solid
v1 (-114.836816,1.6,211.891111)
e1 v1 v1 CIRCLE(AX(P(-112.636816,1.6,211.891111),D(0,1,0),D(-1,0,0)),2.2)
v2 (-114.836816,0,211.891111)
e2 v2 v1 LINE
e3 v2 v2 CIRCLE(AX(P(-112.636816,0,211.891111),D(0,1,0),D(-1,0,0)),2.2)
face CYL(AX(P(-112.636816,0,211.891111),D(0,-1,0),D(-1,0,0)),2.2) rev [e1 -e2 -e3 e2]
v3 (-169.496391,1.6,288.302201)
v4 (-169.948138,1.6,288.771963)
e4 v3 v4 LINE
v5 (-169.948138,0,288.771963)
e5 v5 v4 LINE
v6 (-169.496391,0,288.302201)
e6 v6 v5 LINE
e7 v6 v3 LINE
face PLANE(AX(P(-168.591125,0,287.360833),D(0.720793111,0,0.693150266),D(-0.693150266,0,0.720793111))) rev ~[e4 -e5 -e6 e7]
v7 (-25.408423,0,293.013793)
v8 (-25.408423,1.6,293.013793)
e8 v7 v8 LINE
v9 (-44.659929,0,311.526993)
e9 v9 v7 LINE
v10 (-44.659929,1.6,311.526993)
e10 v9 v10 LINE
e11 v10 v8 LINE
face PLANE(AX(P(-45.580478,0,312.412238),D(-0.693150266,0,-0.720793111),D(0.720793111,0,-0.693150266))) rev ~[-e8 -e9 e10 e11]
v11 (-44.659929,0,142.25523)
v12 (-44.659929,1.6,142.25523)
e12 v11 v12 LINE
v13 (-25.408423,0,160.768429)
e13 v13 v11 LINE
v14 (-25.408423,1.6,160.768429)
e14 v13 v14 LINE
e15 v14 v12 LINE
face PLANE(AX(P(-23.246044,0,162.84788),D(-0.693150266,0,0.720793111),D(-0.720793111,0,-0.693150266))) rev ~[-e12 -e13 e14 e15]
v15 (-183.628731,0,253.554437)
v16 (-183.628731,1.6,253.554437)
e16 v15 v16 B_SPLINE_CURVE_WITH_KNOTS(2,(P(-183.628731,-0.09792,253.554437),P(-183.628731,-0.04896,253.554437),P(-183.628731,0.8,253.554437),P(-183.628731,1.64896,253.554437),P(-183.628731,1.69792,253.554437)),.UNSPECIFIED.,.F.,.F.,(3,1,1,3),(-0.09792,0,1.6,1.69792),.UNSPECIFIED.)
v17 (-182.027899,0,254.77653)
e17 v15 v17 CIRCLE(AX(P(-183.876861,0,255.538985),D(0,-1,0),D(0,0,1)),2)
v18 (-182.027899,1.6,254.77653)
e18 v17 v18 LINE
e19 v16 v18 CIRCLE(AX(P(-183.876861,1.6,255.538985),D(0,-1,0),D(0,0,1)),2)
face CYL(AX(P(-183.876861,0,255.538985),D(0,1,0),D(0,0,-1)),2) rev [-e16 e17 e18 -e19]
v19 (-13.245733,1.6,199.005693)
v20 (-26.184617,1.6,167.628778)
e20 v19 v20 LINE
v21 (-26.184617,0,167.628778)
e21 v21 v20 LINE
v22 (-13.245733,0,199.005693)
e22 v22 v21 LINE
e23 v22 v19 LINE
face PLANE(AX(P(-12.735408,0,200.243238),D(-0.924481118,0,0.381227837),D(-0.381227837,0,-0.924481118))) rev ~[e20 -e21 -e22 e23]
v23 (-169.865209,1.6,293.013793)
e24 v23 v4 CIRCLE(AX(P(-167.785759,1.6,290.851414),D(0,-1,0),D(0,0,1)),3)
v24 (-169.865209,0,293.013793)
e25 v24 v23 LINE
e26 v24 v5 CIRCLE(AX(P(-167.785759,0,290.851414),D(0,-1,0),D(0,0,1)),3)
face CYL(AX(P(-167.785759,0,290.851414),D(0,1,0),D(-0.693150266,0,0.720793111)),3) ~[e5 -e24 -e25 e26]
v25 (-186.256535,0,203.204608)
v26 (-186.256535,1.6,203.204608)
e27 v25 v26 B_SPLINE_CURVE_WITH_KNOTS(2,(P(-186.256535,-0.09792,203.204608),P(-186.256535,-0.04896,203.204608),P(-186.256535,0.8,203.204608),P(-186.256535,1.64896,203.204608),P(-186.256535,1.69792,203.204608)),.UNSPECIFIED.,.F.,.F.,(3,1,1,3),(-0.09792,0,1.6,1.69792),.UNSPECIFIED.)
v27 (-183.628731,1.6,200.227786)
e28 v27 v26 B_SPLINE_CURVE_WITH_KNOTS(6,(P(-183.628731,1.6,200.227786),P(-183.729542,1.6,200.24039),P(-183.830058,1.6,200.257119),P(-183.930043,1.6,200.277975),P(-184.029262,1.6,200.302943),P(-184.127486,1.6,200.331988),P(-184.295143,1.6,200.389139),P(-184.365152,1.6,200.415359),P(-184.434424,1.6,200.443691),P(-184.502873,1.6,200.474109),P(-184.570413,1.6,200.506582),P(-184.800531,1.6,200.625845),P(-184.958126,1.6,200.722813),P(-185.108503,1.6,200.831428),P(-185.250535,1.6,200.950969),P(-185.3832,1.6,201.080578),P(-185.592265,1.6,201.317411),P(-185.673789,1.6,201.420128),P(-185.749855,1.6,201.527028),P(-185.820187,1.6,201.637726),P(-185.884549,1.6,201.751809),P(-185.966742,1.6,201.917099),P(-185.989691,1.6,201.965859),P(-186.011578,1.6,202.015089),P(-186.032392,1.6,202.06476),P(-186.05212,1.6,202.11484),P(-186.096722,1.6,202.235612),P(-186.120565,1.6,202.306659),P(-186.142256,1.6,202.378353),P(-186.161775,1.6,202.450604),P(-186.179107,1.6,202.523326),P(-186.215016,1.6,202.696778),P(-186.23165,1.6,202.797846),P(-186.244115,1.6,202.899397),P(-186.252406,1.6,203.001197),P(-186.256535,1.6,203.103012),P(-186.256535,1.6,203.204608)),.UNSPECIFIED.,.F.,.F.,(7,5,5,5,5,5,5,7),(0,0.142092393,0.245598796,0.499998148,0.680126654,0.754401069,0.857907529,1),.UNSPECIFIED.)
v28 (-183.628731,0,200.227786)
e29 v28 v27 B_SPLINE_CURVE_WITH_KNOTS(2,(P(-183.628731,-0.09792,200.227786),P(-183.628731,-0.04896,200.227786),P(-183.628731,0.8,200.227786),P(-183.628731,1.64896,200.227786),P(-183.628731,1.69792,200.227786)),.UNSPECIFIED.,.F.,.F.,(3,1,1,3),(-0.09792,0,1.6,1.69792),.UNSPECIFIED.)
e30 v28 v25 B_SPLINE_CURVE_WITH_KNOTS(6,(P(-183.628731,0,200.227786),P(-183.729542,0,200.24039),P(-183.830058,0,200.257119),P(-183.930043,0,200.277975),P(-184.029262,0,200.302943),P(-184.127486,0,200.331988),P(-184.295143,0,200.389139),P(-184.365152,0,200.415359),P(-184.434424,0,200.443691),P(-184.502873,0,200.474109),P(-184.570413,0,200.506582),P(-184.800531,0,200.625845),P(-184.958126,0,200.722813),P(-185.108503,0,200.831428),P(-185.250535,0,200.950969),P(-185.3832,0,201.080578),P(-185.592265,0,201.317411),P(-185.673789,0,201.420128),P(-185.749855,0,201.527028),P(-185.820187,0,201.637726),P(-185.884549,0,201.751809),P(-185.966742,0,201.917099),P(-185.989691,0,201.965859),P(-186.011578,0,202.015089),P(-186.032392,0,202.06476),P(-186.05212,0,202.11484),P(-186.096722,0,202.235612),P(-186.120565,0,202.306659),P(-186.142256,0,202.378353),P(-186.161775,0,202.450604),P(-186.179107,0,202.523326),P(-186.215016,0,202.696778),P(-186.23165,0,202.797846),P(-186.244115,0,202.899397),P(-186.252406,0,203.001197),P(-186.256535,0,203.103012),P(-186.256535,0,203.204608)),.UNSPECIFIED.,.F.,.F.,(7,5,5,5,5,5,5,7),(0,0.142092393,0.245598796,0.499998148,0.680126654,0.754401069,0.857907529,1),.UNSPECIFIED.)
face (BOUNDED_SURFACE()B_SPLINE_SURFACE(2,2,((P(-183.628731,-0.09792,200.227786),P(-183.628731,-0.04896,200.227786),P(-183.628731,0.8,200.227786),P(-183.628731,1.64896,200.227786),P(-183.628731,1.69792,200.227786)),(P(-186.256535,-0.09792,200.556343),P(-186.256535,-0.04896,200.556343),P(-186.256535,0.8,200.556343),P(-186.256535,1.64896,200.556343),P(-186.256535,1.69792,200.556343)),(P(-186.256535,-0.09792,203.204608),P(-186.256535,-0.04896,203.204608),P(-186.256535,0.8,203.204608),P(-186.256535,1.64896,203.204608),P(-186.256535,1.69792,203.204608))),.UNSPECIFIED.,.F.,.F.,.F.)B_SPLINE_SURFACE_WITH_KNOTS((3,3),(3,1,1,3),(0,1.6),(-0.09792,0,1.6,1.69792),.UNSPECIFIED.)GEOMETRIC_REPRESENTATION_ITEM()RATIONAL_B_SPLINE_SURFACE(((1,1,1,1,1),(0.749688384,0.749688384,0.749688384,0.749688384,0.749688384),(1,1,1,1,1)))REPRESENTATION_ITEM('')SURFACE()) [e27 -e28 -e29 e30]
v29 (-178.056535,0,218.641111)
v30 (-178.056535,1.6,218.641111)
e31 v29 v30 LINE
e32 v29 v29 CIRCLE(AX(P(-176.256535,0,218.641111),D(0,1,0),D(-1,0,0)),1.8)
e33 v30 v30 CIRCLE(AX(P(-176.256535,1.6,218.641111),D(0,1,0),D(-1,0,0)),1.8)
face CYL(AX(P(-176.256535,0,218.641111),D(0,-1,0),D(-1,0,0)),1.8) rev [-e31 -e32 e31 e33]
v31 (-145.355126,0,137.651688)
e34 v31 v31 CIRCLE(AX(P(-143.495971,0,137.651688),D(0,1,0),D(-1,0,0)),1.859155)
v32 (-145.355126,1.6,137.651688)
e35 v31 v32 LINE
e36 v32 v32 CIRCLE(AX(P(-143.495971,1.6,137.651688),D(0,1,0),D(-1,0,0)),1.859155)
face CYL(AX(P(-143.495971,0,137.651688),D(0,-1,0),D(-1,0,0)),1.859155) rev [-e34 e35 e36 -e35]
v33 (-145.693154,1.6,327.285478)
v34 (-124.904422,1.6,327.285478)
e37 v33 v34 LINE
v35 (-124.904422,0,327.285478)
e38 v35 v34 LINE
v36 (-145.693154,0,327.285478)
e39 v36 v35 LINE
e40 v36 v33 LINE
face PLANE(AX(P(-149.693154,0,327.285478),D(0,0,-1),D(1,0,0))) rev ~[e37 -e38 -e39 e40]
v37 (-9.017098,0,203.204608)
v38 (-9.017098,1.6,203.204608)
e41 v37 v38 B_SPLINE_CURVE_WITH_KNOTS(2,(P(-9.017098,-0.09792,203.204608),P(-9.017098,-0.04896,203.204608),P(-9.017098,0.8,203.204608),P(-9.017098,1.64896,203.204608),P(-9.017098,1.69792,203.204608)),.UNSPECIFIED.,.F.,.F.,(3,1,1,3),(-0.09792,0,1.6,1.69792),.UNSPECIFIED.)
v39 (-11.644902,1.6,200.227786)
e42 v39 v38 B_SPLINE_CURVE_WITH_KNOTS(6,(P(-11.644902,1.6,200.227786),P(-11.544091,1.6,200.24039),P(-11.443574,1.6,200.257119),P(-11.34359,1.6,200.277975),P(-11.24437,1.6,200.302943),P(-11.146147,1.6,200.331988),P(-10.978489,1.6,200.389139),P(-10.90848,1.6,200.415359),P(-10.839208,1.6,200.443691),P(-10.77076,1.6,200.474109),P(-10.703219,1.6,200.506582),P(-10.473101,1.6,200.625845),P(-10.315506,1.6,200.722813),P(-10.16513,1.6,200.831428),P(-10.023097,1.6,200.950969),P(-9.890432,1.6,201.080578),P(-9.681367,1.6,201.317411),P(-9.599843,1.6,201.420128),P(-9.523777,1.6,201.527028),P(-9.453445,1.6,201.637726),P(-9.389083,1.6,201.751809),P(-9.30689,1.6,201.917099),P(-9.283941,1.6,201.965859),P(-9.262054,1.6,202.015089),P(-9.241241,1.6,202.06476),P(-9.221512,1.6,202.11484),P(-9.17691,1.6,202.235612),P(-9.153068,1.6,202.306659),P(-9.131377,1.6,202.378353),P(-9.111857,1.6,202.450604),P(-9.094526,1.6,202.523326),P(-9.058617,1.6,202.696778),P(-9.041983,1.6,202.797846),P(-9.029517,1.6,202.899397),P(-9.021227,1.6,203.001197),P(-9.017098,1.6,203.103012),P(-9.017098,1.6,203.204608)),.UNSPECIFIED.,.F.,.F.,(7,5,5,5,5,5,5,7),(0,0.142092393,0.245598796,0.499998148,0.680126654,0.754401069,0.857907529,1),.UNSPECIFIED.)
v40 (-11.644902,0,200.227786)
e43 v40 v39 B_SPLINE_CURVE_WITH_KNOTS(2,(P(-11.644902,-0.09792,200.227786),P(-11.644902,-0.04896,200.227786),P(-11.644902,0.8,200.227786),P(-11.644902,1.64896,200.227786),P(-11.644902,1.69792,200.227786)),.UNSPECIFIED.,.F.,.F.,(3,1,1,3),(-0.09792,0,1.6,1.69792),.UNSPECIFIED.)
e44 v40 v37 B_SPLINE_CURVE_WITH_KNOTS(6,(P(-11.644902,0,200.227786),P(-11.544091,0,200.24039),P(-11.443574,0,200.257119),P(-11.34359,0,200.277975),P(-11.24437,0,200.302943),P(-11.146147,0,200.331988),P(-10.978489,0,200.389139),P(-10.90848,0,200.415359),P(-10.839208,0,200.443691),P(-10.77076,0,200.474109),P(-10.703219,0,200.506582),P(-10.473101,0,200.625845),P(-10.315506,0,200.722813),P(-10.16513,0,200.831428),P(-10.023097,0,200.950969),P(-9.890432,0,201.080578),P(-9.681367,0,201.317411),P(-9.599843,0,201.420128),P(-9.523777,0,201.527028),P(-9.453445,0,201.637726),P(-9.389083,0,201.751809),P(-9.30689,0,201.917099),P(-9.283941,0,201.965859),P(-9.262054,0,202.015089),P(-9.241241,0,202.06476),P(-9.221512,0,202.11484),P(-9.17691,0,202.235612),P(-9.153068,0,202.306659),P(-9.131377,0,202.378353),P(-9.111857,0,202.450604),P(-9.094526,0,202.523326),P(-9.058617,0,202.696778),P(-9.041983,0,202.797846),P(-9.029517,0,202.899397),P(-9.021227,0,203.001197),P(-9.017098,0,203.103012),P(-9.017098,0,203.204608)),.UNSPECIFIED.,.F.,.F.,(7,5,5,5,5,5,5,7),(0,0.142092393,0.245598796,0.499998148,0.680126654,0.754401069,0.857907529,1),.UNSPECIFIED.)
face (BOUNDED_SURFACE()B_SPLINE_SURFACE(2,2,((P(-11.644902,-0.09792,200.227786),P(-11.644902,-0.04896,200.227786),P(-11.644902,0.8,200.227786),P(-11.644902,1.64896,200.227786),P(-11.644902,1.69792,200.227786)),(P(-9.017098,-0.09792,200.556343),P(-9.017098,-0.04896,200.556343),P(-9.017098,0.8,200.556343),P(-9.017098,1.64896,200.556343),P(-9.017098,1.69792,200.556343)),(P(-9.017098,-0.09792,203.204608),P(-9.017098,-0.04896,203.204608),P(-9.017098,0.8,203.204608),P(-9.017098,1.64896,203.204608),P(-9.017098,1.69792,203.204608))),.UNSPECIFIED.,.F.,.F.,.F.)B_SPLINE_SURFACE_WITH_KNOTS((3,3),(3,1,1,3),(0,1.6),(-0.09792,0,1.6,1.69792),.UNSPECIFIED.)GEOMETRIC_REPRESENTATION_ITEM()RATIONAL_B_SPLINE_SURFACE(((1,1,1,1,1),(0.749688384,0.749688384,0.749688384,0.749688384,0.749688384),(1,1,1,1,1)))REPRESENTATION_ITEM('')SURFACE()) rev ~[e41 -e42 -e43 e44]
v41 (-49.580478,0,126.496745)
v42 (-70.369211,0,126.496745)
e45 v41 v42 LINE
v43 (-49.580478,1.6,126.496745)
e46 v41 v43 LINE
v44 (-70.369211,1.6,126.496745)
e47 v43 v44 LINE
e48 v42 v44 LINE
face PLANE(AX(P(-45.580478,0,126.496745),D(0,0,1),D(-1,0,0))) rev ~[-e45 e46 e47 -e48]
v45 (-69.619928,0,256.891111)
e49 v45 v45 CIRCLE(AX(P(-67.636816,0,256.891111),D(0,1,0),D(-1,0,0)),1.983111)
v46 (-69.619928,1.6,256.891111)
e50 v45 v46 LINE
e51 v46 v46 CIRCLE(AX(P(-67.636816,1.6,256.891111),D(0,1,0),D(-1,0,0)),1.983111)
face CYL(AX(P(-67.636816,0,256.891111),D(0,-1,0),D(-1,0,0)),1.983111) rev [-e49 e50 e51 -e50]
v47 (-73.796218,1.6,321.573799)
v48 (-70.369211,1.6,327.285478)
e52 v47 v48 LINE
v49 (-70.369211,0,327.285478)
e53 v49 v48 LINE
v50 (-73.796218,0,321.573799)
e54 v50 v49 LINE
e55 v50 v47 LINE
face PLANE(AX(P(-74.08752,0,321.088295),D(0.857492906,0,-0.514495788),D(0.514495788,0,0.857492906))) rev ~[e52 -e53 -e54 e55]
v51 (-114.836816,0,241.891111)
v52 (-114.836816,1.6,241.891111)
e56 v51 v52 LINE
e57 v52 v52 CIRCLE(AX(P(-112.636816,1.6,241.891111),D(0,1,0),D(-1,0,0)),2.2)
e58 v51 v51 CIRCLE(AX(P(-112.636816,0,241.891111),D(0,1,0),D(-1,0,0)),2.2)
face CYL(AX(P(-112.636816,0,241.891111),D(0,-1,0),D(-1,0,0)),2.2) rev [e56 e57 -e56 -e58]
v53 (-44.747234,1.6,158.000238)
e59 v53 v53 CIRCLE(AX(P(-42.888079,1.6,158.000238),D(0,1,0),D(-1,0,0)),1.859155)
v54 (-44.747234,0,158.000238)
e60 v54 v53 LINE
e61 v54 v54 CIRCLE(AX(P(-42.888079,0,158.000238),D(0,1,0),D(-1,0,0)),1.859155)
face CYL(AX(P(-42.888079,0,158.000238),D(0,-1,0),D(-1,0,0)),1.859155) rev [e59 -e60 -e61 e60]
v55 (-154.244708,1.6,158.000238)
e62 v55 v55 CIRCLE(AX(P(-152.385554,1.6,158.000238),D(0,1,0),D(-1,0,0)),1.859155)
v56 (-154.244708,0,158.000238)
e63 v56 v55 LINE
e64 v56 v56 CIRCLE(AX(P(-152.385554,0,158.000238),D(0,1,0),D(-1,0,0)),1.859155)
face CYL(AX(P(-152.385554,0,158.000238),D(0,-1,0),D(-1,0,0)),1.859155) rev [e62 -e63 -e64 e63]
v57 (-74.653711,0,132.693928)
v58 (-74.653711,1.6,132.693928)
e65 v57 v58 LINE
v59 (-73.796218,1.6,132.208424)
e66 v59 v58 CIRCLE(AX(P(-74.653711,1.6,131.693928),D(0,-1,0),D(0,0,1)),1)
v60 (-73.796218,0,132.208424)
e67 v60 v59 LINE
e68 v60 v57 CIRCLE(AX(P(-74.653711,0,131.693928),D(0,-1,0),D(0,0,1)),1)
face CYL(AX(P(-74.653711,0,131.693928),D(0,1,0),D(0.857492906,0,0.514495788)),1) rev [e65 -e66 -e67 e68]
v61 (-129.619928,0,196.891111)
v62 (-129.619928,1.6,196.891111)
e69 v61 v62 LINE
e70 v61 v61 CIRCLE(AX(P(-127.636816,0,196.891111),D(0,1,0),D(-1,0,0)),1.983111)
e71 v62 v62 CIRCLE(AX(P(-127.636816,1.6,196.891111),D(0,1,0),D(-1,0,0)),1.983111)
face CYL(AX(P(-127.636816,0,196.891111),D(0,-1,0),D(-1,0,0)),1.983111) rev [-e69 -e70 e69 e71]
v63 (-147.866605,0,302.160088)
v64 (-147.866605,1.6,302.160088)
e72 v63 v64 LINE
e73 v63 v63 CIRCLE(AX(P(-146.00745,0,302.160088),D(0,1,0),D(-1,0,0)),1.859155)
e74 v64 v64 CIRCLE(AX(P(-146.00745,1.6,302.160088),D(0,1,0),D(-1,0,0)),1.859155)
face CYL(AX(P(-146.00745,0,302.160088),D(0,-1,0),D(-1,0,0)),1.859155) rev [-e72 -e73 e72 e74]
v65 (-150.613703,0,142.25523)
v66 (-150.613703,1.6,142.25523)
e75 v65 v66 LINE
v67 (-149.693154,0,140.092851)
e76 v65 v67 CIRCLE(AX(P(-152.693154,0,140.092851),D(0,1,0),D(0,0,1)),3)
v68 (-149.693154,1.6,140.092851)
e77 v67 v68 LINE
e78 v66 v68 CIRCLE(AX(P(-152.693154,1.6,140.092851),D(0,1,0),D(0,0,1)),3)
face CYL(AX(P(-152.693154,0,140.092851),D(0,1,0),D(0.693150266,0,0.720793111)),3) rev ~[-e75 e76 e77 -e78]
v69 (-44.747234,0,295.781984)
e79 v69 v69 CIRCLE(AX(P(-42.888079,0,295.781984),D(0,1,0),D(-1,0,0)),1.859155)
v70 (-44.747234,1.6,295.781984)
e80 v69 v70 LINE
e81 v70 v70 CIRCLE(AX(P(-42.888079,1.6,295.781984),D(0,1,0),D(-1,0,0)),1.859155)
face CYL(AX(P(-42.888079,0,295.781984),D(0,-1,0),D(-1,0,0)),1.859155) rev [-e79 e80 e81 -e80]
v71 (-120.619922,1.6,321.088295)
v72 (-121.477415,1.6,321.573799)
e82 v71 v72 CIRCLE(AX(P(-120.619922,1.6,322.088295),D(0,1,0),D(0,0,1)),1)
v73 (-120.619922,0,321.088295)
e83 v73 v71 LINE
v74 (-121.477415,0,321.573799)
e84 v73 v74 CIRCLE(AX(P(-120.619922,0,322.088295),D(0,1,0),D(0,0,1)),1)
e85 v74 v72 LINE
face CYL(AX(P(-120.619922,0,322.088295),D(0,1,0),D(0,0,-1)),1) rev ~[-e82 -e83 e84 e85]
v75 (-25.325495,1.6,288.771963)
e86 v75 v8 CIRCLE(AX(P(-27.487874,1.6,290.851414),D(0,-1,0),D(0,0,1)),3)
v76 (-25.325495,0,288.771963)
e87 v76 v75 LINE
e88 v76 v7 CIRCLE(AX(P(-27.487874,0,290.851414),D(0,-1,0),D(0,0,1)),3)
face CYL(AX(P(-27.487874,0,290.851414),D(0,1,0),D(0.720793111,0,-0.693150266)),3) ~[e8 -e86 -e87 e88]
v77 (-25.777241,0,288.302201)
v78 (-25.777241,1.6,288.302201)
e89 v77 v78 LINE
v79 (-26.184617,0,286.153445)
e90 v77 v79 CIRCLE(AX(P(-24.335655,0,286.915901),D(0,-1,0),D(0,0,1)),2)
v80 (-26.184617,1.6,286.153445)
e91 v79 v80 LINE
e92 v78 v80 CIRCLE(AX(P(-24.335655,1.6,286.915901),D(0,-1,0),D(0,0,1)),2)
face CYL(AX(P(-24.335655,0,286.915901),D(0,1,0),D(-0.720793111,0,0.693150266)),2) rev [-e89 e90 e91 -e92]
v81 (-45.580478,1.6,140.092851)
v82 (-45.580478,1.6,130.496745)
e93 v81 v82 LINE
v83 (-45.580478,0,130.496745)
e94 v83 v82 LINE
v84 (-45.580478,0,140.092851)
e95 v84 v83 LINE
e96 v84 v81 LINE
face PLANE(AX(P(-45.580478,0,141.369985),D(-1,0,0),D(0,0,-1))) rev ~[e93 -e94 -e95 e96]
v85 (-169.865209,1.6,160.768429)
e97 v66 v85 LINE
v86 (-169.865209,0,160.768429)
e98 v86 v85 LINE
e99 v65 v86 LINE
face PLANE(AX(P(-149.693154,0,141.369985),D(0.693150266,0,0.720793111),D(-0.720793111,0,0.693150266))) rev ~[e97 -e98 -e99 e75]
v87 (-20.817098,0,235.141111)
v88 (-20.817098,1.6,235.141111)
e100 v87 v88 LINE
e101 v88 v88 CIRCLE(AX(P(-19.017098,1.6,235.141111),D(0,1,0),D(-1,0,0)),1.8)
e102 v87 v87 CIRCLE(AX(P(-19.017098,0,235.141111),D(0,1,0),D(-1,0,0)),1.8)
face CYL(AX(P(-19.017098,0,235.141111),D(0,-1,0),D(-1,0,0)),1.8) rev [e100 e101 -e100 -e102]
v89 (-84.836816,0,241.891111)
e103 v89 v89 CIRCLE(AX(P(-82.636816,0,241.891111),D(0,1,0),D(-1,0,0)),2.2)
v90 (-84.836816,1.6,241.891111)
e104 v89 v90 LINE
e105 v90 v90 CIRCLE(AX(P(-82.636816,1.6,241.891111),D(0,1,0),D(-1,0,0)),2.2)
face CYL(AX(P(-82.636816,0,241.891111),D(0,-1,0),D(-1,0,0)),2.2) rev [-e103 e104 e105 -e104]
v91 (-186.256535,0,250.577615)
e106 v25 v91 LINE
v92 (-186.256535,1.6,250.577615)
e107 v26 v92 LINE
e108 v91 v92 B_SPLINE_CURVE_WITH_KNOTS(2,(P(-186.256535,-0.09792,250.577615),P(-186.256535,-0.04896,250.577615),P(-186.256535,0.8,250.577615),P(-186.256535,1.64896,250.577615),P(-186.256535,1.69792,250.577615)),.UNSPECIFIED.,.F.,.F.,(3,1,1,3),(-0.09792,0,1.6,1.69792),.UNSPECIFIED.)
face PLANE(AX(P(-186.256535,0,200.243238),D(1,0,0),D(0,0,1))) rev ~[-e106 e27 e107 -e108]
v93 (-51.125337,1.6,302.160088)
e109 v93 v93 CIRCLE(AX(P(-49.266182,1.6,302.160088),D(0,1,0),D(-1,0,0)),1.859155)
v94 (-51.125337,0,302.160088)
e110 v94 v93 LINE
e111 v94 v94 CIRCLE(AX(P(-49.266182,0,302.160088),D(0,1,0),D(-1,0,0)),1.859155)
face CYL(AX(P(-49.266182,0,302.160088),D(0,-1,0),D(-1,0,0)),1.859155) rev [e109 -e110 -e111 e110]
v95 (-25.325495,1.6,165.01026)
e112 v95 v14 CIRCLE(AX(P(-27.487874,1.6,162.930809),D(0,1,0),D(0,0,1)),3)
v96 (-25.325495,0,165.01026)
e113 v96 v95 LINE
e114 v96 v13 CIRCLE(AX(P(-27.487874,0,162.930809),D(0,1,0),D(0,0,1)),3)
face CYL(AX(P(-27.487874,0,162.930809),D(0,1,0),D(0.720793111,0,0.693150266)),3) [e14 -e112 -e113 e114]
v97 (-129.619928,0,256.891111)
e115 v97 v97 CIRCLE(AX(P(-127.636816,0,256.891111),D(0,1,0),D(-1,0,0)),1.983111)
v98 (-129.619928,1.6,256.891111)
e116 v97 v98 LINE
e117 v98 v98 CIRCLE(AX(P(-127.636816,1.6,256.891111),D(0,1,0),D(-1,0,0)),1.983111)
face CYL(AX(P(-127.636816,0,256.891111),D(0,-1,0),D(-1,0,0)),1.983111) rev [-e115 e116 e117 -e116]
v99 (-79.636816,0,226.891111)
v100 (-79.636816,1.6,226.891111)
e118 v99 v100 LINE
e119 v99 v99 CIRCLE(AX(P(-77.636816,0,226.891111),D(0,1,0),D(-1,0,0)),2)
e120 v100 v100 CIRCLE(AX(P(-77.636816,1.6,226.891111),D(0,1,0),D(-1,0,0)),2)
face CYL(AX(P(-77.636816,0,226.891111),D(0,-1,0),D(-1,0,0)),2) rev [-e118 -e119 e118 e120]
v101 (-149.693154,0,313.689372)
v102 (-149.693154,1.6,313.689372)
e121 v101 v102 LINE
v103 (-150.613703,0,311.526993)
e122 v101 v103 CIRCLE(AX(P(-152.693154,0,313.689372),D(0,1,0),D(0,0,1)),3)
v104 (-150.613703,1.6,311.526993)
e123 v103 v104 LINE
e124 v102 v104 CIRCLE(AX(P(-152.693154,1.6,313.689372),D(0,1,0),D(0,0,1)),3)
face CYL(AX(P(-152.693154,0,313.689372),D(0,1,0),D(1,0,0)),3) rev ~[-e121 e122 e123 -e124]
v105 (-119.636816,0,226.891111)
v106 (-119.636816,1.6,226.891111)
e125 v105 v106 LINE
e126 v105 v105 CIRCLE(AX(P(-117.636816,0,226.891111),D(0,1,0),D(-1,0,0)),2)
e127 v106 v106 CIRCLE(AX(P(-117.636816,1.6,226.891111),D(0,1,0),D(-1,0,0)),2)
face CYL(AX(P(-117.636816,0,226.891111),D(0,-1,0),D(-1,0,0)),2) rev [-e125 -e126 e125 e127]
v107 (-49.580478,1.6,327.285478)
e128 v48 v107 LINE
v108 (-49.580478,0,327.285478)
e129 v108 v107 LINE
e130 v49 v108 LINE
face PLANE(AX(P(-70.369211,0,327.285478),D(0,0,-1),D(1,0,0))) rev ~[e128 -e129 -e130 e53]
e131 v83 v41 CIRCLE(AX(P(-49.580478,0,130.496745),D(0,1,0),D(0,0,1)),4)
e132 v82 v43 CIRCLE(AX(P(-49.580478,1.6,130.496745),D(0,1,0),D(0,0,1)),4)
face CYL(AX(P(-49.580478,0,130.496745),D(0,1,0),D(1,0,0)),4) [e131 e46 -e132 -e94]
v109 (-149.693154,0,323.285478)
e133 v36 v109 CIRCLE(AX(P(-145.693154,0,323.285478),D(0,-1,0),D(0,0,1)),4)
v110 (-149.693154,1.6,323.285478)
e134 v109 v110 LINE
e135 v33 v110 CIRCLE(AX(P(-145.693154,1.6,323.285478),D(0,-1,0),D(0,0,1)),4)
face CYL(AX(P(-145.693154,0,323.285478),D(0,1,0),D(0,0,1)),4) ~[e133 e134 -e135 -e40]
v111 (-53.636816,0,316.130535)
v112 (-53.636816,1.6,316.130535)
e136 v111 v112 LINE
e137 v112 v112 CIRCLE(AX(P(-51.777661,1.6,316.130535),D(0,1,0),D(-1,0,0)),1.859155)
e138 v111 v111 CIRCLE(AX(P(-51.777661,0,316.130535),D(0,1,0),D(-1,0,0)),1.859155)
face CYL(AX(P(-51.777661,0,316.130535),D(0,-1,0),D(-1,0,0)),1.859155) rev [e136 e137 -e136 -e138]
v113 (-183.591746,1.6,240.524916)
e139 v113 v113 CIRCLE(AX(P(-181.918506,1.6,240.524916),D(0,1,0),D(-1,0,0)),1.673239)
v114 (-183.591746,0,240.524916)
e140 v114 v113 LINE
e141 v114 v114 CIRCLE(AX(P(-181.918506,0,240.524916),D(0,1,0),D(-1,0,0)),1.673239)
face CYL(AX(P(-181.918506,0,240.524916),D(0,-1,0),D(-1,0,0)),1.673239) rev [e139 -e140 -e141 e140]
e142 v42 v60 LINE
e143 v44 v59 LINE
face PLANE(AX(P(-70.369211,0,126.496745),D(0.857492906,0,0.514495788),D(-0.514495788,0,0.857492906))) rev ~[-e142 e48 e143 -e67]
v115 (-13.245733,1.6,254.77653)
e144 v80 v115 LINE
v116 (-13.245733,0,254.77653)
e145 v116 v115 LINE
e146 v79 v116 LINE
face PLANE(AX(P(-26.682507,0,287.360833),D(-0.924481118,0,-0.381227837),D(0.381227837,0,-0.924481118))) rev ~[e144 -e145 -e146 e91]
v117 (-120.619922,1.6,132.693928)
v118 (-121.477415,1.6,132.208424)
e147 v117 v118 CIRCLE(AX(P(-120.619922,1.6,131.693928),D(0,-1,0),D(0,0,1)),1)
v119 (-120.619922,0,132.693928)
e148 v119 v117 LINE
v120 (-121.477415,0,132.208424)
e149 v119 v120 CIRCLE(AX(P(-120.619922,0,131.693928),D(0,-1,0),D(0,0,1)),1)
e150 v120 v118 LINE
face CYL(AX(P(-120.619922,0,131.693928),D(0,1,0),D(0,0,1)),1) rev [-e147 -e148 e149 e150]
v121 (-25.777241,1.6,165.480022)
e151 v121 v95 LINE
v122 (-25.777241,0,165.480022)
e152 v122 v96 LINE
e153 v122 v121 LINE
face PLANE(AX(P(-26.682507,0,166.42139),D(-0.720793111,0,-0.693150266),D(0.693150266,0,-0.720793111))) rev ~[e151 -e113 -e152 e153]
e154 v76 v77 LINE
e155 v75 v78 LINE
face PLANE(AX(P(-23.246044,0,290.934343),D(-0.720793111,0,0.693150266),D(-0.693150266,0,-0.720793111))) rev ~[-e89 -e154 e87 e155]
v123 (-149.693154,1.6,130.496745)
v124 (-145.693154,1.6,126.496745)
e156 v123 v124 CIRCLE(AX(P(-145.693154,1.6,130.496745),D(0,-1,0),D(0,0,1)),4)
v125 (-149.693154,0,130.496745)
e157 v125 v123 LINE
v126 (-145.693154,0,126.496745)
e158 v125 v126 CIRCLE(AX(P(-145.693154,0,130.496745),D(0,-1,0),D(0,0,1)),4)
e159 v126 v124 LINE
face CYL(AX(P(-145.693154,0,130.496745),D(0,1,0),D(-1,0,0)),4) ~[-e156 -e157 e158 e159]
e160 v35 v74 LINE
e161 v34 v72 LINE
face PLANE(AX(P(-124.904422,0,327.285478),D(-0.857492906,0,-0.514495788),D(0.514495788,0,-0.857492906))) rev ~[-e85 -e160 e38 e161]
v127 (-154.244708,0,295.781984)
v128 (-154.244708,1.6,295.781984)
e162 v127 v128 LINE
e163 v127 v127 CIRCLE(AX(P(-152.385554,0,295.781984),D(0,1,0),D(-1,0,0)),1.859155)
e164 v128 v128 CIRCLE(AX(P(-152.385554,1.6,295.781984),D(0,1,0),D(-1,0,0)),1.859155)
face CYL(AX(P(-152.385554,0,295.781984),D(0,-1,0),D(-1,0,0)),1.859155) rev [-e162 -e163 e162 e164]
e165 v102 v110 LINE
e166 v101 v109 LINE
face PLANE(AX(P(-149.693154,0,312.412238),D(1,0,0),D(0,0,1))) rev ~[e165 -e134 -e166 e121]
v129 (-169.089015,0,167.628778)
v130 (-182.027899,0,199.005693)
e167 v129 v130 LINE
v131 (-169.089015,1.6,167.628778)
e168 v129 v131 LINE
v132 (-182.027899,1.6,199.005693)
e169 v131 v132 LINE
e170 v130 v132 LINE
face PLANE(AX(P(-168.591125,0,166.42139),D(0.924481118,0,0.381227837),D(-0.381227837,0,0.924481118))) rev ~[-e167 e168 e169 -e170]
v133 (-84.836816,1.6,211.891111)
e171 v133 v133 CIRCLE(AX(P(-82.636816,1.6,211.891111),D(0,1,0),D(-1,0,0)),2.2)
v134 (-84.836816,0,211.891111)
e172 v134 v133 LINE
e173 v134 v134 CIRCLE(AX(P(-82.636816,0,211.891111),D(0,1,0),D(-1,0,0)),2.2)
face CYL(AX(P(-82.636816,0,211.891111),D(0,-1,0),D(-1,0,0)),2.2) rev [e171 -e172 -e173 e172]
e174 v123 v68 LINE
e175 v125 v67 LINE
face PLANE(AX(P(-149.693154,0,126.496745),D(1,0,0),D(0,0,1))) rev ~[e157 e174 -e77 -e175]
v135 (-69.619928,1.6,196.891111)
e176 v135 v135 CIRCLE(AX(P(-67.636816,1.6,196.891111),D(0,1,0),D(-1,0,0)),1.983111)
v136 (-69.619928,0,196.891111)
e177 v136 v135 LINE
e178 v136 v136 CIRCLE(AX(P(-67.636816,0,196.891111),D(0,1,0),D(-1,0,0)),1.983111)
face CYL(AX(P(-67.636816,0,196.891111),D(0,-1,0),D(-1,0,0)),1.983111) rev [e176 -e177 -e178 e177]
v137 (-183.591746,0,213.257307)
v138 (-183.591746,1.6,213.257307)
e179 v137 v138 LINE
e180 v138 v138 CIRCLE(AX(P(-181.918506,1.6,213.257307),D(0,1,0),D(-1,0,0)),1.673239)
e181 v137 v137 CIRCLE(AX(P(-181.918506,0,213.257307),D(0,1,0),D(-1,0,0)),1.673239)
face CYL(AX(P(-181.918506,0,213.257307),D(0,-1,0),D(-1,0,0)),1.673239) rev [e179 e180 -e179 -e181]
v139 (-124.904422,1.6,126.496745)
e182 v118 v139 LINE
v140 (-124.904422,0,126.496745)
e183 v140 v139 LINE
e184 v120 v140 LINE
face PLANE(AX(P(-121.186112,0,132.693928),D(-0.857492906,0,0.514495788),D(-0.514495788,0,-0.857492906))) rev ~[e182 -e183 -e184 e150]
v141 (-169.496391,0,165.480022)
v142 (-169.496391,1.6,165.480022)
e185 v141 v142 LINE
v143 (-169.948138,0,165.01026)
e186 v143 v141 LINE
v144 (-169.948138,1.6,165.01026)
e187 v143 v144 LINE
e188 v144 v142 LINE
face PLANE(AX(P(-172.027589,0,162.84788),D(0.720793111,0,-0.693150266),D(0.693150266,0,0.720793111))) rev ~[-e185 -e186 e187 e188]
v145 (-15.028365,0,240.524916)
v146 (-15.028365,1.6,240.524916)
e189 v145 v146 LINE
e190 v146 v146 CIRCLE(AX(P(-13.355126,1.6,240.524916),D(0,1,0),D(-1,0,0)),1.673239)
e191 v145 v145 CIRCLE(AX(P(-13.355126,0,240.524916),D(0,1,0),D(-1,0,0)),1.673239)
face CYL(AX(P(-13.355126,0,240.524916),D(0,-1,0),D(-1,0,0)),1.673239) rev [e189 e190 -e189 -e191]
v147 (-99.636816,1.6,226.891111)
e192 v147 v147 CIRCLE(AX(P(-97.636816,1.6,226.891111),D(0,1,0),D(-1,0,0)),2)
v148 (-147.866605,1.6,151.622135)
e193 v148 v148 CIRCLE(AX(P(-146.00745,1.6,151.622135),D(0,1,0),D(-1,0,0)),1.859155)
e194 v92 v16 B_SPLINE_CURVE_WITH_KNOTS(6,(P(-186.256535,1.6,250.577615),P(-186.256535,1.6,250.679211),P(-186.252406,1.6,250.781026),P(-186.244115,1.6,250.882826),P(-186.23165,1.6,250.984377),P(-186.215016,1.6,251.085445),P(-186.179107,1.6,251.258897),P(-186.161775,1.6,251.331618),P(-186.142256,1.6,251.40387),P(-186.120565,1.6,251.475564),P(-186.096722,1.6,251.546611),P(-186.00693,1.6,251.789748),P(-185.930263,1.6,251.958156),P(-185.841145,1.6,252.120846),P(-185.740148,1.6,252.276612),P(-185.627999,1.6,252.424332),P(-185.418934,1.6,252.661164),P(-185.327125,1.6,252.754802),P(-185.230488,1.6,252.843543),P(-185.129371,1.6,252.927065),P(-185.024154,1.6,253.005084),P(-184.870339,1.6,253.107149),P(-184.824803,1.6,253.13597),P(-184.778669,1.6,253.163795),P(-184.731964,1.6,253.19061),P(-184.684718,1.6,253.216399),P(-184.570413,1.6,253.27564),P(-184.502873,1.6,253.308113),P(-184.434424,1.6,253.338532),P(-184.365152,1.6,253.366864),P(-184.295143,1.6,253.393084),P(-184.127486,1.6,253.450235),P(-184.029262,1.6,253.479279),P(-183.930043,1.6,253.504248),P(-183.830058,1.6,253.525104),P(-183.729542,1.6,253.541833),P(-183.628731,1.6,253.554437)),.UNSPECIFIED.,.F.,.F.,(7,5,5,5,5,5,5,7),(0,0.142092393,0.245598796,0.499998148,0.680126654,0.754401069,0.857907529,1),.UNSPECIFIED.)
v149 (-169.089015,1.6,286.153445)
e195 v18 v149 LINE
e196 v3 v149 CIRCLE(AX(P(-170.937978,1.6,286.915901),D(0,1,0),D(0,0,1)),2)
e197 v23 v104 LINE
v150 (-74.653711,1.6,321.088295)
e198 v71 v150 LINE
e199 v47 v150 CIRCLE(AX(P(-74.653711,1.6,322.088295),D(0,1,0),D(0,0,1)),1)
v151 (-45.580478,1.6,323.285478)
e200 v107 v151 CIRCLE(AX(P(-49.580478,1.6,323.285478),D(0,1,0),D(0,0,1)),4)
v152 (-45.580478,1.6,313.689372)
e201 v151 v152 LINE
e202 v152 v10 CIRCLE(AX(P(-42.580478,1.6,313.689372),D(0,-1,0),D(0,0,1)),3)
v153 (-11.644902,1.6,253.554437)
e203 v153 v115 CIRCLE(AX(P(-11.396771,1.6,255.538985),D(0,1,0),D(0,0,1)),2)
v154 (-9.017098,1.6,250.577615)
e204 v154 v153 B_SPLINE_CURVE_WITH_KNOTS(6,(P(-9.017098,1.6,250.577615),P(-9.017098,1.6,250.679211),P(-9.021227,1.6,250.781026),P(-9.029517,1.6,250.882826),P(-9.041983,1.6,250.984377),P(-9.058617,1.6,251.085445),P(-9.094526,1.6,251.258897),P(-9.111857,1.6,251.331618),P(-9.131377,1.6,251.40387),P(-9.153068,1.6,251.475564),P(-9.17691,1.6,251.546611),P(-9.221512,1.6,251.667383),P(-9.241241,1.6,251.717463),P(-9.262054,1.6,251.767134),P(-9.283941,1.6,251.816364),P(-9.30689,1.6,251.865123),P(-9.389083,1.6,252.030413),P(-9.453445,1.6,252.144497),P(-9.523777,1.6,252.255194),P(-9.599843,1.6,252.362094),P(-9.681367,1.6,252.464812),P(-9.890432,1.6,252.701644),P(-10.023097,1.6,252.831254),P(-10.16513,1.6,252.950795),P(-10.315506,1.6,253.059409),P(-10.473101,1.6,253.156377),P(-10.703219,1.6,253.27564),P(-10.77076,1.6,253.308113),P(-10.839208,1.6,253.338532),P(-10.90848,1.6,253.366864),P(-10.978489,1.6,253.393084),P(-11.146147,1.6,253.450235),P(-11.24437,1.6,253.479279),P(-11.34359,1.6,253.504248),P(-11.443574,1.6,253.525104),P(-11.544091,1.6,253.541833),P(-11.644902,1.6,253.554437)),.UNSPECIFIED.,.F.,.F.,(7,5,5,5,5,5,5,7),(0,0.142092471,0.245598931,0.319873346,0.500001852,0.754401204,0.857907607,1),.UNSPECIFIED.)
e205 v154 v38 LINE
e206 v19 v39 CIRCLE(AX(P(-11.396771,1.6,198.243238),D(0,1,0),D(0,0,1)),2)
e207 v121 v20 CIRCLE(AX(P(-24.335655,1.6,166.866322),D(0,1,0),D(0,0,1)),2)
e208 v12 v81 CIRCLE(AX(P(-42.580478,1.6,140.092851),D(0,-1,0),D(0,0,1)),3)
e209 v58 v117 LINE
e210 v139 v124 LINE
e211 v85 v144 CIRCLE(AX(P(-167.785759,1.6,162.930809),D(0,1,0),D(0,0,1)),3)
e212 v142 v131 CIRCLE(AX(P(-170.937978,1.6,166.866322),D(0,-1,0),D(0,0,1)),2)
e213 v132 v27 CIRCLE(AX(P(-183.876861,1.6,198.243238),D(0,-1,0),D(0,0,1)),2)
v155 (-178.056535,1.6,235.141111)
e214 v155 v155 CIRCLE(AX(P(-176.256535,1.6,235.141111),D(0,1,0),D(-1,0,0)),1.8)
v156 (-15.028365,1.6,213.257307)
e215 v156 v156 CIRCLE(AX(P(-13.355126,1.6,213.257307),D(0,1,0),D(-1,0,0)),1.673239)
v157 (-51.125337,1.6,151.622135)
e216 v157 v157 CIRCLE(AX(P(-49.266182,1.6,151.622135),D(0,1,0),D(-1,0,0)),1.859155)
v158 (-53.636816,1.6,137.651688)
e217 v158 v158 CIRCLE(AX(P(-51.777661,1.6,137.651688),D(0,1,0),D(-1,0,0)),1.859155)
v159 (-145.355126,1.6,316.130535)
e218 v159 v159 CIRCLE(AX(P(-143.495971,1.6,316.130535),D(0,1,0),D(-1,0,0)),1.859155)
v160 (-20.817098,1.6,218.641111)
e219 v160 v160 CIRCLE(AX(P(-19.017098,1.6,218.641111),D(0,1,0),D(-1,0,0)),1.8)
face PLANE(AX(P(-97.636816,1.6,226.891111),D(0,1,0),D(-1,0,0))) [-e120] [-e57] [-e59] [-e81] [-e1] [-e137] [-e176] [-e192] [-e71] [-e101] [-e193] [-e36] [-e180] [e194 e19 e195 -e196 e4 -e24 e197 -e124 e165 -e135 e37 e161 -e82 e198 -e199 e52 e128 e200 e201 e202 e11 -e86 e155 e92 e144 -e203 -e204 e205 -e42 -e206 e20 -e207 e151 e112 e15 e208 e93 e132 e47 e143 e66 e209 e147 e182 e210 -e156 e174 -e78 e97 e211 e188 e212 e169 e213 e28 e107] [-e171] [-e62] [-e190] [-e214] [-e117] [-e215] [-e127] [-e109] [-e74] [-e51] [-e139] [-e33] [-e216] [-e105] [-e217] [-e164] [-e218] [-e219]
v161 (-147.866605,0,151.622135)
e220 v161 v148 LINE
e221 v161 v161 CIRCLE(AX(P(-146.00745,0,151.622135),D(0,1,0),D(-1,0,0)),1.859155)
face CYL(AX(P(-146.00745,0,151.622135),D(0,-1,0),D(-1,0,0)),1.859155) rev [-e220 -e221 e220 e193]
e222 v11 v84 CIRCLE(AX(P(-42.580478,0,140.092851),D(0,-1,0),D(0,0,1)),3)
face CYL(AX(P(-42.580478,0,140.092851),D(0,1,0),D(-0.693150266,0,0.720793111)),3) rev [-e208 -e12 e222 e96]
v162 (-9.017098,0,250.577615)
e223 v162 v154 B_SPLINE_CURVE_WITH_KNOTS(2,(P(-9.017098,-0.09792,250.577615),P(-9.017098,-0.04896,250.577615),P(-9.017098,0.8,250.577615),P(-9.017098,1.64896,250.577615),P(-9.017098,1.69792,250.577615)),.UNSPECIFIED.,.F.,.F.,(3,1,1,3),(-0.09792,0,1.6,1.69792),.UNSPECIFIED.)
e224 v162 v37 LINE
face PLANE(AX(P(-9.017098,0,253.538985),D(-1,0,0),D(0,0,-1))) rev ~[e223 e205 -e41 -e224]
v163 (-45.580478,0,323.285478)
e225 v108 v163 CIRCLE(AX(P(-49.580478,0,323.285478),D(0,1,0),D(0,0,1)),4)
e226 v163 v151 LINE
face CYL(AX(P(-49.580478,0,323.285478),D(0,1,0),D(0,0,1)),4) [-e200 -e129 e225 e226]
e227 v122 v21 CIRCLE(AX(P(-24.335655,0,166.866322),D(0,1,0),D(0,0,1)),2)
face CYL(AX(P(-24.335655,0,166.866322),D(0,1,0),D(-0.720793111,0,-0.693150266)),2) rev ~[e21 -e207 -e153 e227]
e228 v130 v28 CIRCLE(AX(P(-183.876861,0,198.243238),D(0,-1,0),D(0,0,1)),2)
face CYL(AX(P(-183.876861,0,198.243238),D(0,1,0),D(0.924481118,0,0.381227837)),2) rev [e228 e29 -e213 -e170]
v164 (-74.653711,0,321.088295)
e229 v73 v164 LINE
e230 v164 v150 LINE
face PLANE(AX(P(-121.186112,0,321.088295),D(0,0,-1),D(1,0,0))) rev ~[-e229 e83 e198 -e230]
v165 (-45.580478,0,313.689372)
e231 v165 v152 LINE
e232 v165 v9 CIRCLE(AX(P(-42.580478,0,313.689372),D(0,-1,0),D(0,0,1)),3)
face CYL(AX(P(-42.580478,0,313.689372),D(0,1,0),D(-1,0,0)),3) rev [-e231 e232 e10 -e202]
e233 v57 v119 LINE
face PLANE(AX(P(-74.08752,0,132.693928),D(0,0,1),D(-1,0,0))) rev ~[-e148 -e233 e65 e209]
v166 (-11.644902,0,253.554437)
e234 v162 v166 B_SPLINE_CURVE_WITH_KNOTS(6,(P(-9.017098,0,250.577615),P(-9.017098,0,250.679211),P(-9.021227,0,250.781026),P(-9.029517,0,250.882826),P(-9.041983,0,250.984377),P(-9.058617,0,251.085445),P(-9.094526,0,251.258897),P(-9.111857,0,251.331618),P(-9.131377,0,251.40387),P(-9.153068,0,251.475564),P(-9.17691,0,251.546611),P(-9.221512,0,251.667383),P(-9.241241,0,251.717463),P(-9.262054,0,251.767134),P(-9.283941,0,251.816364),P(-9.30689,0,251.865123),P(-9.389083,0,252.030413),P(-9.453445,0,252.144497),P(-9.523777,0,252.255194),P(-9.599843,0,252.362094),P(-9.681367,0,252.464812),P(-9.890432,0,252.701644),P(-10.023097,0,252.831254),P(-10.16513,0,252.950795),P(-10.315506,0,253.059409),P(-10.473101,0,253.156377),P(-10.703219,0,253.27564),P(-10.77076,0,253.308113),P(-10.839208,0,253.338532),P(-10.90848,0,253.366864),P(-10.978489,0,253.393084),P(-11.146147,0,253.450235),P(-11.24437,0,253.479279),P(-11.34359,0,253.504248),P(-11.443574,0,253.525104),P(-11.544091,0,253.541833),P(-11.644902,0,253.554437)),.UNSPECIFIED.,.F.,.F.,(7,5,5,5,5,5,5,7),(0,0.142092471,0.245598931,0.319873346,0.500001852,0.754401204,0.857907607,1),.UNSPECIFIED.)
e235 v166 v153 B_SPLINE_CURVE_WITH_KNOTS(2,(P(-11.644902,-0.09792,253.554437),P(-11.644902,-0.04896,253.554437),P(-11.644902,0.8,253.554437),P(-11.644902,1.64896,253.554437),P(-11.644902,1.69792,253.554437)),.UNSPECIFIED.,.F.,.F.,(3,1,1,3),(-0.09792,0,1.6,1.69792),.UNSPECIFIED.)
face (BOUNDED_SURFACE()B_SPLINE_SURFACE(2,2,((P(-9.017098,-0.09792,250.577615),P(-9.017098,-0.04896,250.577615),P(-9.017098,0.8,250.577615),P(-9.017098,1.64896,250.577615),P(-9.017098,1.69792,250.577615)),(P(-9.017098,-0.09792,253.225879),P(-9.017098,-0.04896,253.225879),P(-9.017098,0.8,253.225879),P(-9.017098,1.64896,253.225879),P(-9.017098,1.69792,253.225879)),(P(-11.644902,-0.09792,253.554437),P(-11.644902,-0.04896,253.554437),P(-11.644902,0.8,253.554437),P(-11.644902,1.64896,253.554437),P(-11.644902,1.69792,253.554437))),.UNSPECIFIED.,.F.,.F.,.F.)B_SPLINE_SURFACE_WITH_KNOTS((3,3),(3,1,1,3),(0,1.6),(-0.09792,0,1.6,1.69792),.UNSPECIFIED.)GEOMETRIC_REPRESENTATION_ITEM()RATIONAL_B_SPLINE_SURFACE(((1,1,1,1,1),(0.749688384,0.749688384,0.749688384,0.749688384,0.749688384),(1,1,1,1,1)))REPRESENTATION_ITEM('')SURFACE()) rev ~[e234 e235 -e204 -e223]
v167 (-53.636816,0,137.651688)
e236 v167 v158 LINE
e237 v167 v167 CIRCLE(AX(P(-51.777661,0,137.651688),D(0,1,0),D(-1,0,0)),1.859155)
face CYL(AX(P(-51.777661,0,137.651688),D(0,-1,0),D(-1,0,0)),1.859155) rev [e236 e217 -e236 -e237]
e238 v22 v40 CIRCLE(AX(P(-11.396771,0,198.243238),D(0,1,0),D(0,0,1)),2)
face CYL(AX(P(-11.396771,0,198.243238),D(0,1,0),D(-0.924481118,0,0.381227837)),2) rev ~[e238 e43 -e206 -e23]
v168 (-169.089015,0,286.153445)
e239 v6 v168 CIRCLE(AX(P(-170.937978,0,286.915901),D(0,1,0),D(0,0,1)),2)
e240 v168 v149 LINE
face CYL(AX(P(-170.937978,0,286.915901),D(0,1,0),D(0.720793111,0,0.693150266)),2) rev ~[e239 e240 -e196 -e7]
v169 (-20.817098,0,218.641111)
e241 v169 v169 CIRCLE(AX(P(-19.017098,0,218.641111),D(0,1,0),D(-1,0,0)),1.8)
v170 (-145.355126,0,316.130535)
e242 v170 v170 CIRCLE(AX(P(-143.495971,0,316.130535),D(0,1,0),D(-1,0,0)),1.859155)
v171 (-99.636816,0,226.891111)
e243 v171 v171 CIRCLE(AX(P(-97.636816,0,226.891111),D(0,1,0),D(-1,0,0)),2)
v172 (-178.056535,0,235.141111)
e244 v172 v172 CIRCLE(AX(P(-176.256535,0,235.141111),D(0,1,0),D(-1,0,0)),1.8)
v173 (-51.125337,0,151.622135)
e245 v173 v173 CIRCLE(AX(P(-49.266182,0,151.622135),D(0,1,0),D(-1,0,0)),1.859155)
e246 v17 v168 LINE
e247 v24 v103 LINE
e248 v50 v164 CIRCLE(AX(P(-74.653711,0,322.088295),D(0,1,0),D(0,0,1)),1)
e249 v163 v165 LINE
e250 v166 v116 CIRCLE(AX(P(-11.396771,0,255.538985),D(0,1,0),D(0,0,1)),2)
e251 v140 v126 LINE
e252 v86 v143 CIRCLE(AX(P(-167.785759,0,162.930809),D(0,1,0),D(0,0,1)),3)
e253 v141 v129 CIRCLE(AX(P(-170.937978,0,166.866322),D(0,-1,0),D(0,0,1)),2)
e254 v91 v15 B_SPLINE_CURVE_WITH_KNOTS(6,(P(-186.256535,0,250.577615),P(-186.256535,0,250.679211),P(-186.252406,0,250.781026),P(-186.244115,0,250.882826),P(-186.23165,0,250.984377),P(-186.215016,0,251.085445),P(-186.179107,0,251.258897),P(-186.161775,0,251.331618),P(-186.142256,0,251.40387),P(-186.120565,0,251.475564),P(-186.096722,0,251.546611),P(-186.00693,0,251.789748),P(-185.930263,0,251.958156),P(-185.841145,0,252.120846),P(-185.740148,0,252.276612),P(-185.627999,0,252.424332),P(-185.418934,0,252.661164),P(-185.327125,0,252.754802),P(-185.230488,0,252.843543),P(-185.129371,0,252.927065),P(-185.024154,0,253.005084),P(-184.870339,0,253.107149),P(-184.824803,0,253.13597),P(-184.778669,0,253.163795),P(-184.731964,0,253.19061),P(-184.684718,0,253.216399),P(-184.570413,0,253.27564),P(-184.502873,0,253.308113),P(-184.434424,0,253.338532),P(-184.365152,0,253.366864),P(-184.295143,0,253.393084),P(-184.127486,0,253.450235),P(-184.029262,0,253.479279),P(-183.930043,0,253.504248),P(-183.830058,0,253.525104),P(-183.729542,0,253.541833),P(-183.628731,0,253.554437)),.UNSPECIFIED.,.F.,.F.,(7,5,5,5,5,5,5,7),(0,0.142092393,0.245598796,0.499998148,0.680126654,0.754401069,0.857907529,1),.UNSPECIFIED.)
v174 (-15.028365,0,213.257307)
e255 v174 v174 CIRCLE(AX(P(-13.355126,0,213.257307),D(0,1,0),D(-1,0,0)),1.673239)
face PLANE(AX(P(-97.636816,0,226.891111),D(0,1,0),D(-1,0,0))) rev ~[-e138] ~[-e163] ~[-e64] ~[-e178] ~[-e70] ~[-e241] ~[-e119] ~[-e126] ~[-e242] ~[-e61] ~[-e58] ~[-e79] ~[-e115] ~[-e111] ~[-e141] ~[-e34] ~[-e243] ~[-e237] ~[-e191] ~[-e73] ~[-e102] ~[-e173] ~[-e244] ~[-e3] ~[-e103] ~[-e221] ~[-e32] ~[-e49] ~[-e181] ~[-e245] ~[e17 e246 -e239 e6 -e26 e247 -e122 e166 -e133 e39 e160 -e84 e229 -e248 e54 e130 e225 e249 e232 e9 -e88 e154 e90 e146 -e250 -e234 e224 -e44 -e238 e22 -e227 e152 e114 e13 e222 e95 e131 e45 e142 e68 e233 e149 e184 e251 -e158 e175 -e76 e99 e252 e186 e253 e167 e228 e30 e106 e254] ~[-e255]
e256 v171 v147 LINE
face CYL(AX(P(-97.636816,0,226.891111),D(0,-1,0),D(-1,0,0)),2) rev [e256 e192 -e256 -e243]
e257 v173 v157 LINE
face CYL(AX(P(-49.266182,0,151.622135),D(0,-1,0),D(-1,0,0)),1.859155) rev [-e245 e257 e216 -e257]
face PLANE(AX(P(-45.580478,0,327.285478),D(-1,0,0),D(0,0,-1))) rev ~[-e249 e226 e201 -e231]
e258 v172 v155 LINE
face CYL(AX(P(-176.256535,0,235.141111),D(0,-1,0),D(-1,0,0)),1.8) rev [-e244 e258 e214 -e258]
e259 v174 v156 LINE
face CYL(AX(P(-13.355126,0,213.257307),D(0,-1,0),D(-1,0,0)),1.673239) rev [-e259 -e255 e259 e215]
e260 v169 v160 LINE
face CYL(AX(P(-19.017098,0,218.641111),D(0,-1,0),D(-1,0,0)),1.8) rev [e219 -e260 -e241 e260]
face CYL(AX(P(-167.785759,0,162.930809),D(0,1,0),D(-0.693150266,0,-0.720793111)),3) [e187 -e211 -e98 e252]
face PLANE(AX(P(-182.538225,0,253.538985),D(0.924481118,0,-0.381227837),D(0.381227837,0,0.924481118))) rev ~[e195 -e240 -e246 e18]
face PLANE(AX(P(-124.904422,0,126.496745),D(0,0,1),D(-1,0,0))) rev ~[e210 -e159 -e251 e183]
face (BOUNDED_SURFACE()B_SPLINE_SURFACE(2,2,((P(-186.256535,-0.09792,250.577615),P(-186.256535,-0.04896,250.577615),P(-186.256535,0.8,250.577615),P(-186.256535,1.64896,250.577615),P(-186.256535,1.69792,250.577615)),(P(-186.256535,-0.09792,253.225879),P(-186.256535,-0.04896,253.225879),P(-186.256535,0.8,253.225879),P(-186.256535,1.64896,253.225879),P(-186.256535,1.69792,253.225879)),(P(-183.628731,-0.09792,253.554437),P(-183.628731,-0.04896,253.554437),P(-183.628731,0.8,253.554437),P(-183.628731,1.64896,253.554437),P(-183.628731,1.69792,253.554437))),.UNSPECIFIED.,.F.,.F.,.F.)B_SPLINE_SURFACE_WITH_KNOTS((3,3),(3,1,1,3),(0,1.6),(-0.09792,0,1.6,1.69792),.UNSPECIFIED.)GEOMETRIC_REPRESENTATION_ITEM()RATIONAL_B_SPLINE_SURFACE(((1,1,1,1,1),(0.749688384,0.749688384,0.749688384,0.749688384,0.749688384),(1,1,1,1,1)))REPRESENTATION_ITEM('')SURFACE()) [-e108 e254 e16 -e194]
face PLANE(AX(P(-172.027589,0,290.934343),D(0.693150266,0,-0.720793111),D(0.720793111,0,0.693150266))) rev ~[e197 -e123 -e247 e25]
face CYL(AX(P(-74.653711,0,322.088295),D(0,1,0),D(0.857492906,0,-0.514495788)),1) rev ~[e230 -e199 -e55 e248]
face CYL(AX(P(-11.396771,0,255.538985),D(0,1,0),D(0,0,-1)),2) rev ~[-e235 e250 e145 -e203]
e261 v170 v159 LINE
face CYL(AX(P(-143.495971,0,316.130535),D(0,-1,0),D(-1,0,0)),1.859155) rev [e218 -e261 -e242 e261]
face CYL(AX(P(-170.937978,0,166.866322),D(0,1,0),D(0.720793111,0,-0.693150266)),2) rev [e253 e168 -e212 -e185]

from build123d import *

# Parameters (mm, degrees)
SKETCH1_R        = 2.2
SKETCH1_R_2      = 1.85915493
SKETCH1_R_3      = 2
SKETCH1_R_4      = 1.8
SKETCH1_R_5      = 1.673239437
SKETCH1_R_6      = 1.983111479
EXTRUSION1_DEPTH = 1.6
FILLET1_R        = 1
FILLET2_R        = 4
FILLET3_R        = 3
FILLET4_R        = 3
FILLET5_R        = 2
FILLET6_R        = 2
FILLET7_R        = 3
FILLET8_R        = 3
FILLET9_R        = 2
FILLET10_R       = 2
FILLET11_R       = 3


with BuildPart() as part:
    # Sketch1 → Extrusion1 (new body)
    with BuildSketch(Plane(origin=(0, 0, 0), x_dir=(-1, 0, 0), z_dir=(0, 1, 0))):
        Polygon((74.087520418, 321.088295015), (70.369210559, 327.285477572), (45.580478165, 327.285477572), (45.580478165, 312.412238135), (23.246043749, 290.934342561), (26.682507041, 287.360833055), (12.735407819, 253.538985229), (9.017097883, 253.538985229), (9.017097883, 226.891111382), (9.017097883, 200.243237534), (12.735407819, 200.243237534), (26.682507041, 166.421389708), (23.246043749, 162.847880202), (45.580478165, 141.369984628), (45.580478165, 126.496745191), (70.369210559, 126.496745191), (74.087520418, 132.693927748), (97.636816193, 132.693927748), (121.186111968, 132.693927748), (124.904421827, 126.496745191), (149.693154221, 126.496745191), (149.693154221, 141.369984628), (172.027588636, 162.847880202), (168.591125345, 166.421389708), (182.538224567, 200.243237534), (186.256534503, 200.243237534), (186.256534503, 226.891111382), (186.256534503, 253.538985229), (182.538224567, 253.538985229), (168.591125345, 287.360833055), (172.027588636, 290.934342561), (149.693154221, 312.412238135), (149.693154221, 327.285477572), (124.904421827, 327.285477572), (121.186111968, 321.088295015), (97.636816193, 321.088295015), align=None)
        with Locations((112.636816193, 211.891111382)):
            Circle(SKETCH1_R, mode=Mode.SUBTRACT)
        with Locations((49.266182018, 151.62213525)):
            Circle(SKETCH1_R_2, mode=Mode.SUBTRACT)
        with Locations((112.636816193, 241.891111382)):
            Circle(SKETCH1_R, mode=Mode.SUBTRACT)
        with Locations((82.636816193, 241.891111382)):
            Circle(SKETCH1_R, mode=Mode.SUBTRACT)
        with Locations((82.636816193, 211.891111382)):
            Circle(SKETCH1_R, mode=Mode.SUBTRACT)
        with Locations((117.636816193, 226.891111382)):
            Circle(SKETCH1_R_3, mode=Mode.SUBTRACT)
        with Locations((77.636816193, 226.891111382)):
            Circle(SKETCH1_R_3, mode=Mode.SUBTRACT)
        with Locations((97.636816193, 226.891111382)):
            Circle(SKETCH1_R_3, mode=Mode.SUBTRACT)
        with Locations((176.256534503, 218.641111382)):
            Circle(SKETCH1_R_4, mode=Mode.SUBTRACT)
        with Locations((176.256534503, 235.141111382)):
            Circle(SKETCH1_R_4, mode=Mode.SUBTRACT)
        with Locations((19.017097883, 218.641111382)):
            Circle(SKETCH1_R_4, mode=Mode.SUBTRACT)
        with Locations((19.017097883, 235.141111382)):
            Circle(SKETCH1_R_4, mode=Mode.SUBTRACT)
        with Locations((51.777661187, 316.130534525)):
            Circle(SKETCH1_R_2, mode=Mode.SUBTRACT)
        with Locations((49.266182018, 302.160087513)):
            Circle(SKETCH1_R_2, mode=Mode.SUBTRACT)
        with Locations((13.355125975, 240.524915841)):
            Circle(SKETCH1_R_5, mode=Mode.SUBTRACT)
        with Locations((143.495971199, 137.651688238)):
            Circle(SKETCH1_R_2, mode=Mode.SUBTRACT)
        with Locations((146.007450368, 151.62213525)):
            Circle(SKETCH1_R_2, mode=Mode.SUBTRACT)
        with Locations((143.495971199, 316.130534525)):
            Circle(SKETCH1_R_2, mode=Mode.SUBTRACT)
        with Locations((181.918506411, 240.524915841)):
            Circle(SKETCH1_R_5, mode=Mode.SUBTRACT)
        with Locations((146.007450368, 302.160087513)):
            Circle(SKETCH1_R_2, mode=Mode.SUBTRACT)
        with Locations((181.918506411, 213.257306923)):
            Circle(SKETCH1_R_5, mode=Mode.SUBTRACT)
        with Locations((13.355125975, 213.257306923)):
            Circle(SKETCH1_R_5, mode=Mode.SUBTRACT)
        with Locations((51.777661187, 137.651688238)):
            Circle(SKETCH1_R_2, mode=Mode.SUBTRACT)
        with Locations((67.636816193, 196.891111382)):
            Circle(SKETCH1_R_6, mode=Mode.SUBTRACT)
        with Locations((67.636816193, 256.891111382)):
            Circle(SKETCH1_R_6, mode=Mode.SUBTRACT)
        with Locations((42.888078851, 158.000238416)):
            Circle(SKETCH1_R_2, mode=Mode.SUBTRACT)
        with Locations((152.385553534, 295.781984347)):
            Circle(SKETCH1_R_2, mode=Mode.SUBTRACT)
        with Locations((42.888078851, 295.781984347)):
            Circle(SKETCH1_R_2, mode=Mode.SUBTRACT)
        with Locations((127.636816193, 256.891111382)):
            Circle(SKETCH1_R_6, mode=Mode.SUBTRACT)
        with Locations((152.385553534, 158.000238416)):
            Circle(SKETCH1_R_2, mode=Mode.SUBTRACT)
        with Locations((127.636816193, 196.891111382)):
            Circle(SKETCH1_R_6, mode=Mode.SUBTRACT)
    extrude(amount=EXTRUSION1_DEPTH)

    # Fillet1
    fillet1_edges = [part.edges().sort_by_distance(p)[0] for p in [
        (-121.186111968, 0.8, 321.088295015),
        (-121.186111968, 0.8, 132.693927748),
        (-74.087520418, 0.8, 132.693927748),
        (-74.087520418, 0.8, 321.088295015),
    ]]
    fillet(fillet1_edges, radius=FILLET1_R)

    # Fillet2
    fillet2_edges = [part.edges().sort_by_distance(p)[0] for p in [
        (-149.693154221, 0.8, 327.285477572),
        (-149.693154221, 0.8, 126.496745191),
        (-45.580478165, 0.8, 126.496745191),
        (-45.580478165, 0.8, 327.285477572),
    ]]
    fillet(fillet2_edges, radius=FILLET2_R)

    # Fillet3
    fillet3_edges = [part.edges().sort_by_distance(p)[0] for p in [
        (-149.693154221, 0.8, 312.412238135),
        (-149.693154221, 0.8, 141.369984628),
        (-45.580478165, 0.8, 141.369984628),
        (-45.580478165, 0.8, 312.412238135),
    ]]
    fillet(fillet3_edges, radius=FILLET3_R)

    # Fillet4
    fillet4_edges = [part.edges().sort_by_distance(p)[0] for p in [
        (-172.027588636, 0.8, 290.934342561),
    ]]
    fillet(fillet4_edges, radius=FILLET4_R)

    # Fillet5
    fillet5_edges = [part.edges().sort_by_distance(p)[0] for p in [
        (-168.591125345, 0.8, 287.360833055),
    ]]
    fillet(fillet5_edges, radius=FILLET5_R)

    # Fillet6
    fillet6_edges = [part.edges().sort_by_distance(p)[0] for p in [
        (-26.682507041, 0.8, 287.360833055),
    ]]
    fillet(fillet6_edges, radius=FILLET6_R)

    # Fillet7
    fillet7_edges = [part.edges().sort_by_distance(p)[0] for p in [
        (-23.246043749, 0.8, 290.934342561),
    ]]
    fillet(fillet7_edges, radius=FILLET7_R)

    # Fillet8
    fillet8_edges = [part.edges().sort_by_distance(p)[0] for p in [
        (-172.027588636, 0.8, 162.847880202),
        (-23.246043749, 0.8, 162.847880202),
    ]]
    fillet(fillet8_edges, radius=FILLET8_R)

    # Fillet9
    fillet9_edges = [part.edges().sort_by_distance(p)[0] for p in [
        (-168.591125345, 0.8, 166.421389708),
        (-26.682507041, 0.8, 166.421389708),
    ]]
    fillet(fillet9_edges, radius=FILLET9_R)

    # Fillet10
    fillet10_edges = [part.edges().sort_by_distance(p)[0] for p in [
        (-182.538224567, 0.8, 253.538985229),
        (-182.538224567, 0.8, 200.243237534),
        (-12.735407819, 0.8, 200.243237534),
        (-12.735407819, 0.8, 253.538985229),
    ]]
    fillet(fillet10_edges, radius=FILLET10_R)

    # Fillet11
    fillet11_edges = [part.edges().sort_by_distance(p)[0] for p in [
        (-186.256534503, 0.8, 200.243237534),
        (-186.256534503, 0.8, 253.538985229),
        (-9.017097883, 0.8, 253.538985229),
        (-9.017097883, 0.8, 200.243237534),
    ]]
    fillet(fillet11_edges, radius=FILLET11_R)


solid = part.part
